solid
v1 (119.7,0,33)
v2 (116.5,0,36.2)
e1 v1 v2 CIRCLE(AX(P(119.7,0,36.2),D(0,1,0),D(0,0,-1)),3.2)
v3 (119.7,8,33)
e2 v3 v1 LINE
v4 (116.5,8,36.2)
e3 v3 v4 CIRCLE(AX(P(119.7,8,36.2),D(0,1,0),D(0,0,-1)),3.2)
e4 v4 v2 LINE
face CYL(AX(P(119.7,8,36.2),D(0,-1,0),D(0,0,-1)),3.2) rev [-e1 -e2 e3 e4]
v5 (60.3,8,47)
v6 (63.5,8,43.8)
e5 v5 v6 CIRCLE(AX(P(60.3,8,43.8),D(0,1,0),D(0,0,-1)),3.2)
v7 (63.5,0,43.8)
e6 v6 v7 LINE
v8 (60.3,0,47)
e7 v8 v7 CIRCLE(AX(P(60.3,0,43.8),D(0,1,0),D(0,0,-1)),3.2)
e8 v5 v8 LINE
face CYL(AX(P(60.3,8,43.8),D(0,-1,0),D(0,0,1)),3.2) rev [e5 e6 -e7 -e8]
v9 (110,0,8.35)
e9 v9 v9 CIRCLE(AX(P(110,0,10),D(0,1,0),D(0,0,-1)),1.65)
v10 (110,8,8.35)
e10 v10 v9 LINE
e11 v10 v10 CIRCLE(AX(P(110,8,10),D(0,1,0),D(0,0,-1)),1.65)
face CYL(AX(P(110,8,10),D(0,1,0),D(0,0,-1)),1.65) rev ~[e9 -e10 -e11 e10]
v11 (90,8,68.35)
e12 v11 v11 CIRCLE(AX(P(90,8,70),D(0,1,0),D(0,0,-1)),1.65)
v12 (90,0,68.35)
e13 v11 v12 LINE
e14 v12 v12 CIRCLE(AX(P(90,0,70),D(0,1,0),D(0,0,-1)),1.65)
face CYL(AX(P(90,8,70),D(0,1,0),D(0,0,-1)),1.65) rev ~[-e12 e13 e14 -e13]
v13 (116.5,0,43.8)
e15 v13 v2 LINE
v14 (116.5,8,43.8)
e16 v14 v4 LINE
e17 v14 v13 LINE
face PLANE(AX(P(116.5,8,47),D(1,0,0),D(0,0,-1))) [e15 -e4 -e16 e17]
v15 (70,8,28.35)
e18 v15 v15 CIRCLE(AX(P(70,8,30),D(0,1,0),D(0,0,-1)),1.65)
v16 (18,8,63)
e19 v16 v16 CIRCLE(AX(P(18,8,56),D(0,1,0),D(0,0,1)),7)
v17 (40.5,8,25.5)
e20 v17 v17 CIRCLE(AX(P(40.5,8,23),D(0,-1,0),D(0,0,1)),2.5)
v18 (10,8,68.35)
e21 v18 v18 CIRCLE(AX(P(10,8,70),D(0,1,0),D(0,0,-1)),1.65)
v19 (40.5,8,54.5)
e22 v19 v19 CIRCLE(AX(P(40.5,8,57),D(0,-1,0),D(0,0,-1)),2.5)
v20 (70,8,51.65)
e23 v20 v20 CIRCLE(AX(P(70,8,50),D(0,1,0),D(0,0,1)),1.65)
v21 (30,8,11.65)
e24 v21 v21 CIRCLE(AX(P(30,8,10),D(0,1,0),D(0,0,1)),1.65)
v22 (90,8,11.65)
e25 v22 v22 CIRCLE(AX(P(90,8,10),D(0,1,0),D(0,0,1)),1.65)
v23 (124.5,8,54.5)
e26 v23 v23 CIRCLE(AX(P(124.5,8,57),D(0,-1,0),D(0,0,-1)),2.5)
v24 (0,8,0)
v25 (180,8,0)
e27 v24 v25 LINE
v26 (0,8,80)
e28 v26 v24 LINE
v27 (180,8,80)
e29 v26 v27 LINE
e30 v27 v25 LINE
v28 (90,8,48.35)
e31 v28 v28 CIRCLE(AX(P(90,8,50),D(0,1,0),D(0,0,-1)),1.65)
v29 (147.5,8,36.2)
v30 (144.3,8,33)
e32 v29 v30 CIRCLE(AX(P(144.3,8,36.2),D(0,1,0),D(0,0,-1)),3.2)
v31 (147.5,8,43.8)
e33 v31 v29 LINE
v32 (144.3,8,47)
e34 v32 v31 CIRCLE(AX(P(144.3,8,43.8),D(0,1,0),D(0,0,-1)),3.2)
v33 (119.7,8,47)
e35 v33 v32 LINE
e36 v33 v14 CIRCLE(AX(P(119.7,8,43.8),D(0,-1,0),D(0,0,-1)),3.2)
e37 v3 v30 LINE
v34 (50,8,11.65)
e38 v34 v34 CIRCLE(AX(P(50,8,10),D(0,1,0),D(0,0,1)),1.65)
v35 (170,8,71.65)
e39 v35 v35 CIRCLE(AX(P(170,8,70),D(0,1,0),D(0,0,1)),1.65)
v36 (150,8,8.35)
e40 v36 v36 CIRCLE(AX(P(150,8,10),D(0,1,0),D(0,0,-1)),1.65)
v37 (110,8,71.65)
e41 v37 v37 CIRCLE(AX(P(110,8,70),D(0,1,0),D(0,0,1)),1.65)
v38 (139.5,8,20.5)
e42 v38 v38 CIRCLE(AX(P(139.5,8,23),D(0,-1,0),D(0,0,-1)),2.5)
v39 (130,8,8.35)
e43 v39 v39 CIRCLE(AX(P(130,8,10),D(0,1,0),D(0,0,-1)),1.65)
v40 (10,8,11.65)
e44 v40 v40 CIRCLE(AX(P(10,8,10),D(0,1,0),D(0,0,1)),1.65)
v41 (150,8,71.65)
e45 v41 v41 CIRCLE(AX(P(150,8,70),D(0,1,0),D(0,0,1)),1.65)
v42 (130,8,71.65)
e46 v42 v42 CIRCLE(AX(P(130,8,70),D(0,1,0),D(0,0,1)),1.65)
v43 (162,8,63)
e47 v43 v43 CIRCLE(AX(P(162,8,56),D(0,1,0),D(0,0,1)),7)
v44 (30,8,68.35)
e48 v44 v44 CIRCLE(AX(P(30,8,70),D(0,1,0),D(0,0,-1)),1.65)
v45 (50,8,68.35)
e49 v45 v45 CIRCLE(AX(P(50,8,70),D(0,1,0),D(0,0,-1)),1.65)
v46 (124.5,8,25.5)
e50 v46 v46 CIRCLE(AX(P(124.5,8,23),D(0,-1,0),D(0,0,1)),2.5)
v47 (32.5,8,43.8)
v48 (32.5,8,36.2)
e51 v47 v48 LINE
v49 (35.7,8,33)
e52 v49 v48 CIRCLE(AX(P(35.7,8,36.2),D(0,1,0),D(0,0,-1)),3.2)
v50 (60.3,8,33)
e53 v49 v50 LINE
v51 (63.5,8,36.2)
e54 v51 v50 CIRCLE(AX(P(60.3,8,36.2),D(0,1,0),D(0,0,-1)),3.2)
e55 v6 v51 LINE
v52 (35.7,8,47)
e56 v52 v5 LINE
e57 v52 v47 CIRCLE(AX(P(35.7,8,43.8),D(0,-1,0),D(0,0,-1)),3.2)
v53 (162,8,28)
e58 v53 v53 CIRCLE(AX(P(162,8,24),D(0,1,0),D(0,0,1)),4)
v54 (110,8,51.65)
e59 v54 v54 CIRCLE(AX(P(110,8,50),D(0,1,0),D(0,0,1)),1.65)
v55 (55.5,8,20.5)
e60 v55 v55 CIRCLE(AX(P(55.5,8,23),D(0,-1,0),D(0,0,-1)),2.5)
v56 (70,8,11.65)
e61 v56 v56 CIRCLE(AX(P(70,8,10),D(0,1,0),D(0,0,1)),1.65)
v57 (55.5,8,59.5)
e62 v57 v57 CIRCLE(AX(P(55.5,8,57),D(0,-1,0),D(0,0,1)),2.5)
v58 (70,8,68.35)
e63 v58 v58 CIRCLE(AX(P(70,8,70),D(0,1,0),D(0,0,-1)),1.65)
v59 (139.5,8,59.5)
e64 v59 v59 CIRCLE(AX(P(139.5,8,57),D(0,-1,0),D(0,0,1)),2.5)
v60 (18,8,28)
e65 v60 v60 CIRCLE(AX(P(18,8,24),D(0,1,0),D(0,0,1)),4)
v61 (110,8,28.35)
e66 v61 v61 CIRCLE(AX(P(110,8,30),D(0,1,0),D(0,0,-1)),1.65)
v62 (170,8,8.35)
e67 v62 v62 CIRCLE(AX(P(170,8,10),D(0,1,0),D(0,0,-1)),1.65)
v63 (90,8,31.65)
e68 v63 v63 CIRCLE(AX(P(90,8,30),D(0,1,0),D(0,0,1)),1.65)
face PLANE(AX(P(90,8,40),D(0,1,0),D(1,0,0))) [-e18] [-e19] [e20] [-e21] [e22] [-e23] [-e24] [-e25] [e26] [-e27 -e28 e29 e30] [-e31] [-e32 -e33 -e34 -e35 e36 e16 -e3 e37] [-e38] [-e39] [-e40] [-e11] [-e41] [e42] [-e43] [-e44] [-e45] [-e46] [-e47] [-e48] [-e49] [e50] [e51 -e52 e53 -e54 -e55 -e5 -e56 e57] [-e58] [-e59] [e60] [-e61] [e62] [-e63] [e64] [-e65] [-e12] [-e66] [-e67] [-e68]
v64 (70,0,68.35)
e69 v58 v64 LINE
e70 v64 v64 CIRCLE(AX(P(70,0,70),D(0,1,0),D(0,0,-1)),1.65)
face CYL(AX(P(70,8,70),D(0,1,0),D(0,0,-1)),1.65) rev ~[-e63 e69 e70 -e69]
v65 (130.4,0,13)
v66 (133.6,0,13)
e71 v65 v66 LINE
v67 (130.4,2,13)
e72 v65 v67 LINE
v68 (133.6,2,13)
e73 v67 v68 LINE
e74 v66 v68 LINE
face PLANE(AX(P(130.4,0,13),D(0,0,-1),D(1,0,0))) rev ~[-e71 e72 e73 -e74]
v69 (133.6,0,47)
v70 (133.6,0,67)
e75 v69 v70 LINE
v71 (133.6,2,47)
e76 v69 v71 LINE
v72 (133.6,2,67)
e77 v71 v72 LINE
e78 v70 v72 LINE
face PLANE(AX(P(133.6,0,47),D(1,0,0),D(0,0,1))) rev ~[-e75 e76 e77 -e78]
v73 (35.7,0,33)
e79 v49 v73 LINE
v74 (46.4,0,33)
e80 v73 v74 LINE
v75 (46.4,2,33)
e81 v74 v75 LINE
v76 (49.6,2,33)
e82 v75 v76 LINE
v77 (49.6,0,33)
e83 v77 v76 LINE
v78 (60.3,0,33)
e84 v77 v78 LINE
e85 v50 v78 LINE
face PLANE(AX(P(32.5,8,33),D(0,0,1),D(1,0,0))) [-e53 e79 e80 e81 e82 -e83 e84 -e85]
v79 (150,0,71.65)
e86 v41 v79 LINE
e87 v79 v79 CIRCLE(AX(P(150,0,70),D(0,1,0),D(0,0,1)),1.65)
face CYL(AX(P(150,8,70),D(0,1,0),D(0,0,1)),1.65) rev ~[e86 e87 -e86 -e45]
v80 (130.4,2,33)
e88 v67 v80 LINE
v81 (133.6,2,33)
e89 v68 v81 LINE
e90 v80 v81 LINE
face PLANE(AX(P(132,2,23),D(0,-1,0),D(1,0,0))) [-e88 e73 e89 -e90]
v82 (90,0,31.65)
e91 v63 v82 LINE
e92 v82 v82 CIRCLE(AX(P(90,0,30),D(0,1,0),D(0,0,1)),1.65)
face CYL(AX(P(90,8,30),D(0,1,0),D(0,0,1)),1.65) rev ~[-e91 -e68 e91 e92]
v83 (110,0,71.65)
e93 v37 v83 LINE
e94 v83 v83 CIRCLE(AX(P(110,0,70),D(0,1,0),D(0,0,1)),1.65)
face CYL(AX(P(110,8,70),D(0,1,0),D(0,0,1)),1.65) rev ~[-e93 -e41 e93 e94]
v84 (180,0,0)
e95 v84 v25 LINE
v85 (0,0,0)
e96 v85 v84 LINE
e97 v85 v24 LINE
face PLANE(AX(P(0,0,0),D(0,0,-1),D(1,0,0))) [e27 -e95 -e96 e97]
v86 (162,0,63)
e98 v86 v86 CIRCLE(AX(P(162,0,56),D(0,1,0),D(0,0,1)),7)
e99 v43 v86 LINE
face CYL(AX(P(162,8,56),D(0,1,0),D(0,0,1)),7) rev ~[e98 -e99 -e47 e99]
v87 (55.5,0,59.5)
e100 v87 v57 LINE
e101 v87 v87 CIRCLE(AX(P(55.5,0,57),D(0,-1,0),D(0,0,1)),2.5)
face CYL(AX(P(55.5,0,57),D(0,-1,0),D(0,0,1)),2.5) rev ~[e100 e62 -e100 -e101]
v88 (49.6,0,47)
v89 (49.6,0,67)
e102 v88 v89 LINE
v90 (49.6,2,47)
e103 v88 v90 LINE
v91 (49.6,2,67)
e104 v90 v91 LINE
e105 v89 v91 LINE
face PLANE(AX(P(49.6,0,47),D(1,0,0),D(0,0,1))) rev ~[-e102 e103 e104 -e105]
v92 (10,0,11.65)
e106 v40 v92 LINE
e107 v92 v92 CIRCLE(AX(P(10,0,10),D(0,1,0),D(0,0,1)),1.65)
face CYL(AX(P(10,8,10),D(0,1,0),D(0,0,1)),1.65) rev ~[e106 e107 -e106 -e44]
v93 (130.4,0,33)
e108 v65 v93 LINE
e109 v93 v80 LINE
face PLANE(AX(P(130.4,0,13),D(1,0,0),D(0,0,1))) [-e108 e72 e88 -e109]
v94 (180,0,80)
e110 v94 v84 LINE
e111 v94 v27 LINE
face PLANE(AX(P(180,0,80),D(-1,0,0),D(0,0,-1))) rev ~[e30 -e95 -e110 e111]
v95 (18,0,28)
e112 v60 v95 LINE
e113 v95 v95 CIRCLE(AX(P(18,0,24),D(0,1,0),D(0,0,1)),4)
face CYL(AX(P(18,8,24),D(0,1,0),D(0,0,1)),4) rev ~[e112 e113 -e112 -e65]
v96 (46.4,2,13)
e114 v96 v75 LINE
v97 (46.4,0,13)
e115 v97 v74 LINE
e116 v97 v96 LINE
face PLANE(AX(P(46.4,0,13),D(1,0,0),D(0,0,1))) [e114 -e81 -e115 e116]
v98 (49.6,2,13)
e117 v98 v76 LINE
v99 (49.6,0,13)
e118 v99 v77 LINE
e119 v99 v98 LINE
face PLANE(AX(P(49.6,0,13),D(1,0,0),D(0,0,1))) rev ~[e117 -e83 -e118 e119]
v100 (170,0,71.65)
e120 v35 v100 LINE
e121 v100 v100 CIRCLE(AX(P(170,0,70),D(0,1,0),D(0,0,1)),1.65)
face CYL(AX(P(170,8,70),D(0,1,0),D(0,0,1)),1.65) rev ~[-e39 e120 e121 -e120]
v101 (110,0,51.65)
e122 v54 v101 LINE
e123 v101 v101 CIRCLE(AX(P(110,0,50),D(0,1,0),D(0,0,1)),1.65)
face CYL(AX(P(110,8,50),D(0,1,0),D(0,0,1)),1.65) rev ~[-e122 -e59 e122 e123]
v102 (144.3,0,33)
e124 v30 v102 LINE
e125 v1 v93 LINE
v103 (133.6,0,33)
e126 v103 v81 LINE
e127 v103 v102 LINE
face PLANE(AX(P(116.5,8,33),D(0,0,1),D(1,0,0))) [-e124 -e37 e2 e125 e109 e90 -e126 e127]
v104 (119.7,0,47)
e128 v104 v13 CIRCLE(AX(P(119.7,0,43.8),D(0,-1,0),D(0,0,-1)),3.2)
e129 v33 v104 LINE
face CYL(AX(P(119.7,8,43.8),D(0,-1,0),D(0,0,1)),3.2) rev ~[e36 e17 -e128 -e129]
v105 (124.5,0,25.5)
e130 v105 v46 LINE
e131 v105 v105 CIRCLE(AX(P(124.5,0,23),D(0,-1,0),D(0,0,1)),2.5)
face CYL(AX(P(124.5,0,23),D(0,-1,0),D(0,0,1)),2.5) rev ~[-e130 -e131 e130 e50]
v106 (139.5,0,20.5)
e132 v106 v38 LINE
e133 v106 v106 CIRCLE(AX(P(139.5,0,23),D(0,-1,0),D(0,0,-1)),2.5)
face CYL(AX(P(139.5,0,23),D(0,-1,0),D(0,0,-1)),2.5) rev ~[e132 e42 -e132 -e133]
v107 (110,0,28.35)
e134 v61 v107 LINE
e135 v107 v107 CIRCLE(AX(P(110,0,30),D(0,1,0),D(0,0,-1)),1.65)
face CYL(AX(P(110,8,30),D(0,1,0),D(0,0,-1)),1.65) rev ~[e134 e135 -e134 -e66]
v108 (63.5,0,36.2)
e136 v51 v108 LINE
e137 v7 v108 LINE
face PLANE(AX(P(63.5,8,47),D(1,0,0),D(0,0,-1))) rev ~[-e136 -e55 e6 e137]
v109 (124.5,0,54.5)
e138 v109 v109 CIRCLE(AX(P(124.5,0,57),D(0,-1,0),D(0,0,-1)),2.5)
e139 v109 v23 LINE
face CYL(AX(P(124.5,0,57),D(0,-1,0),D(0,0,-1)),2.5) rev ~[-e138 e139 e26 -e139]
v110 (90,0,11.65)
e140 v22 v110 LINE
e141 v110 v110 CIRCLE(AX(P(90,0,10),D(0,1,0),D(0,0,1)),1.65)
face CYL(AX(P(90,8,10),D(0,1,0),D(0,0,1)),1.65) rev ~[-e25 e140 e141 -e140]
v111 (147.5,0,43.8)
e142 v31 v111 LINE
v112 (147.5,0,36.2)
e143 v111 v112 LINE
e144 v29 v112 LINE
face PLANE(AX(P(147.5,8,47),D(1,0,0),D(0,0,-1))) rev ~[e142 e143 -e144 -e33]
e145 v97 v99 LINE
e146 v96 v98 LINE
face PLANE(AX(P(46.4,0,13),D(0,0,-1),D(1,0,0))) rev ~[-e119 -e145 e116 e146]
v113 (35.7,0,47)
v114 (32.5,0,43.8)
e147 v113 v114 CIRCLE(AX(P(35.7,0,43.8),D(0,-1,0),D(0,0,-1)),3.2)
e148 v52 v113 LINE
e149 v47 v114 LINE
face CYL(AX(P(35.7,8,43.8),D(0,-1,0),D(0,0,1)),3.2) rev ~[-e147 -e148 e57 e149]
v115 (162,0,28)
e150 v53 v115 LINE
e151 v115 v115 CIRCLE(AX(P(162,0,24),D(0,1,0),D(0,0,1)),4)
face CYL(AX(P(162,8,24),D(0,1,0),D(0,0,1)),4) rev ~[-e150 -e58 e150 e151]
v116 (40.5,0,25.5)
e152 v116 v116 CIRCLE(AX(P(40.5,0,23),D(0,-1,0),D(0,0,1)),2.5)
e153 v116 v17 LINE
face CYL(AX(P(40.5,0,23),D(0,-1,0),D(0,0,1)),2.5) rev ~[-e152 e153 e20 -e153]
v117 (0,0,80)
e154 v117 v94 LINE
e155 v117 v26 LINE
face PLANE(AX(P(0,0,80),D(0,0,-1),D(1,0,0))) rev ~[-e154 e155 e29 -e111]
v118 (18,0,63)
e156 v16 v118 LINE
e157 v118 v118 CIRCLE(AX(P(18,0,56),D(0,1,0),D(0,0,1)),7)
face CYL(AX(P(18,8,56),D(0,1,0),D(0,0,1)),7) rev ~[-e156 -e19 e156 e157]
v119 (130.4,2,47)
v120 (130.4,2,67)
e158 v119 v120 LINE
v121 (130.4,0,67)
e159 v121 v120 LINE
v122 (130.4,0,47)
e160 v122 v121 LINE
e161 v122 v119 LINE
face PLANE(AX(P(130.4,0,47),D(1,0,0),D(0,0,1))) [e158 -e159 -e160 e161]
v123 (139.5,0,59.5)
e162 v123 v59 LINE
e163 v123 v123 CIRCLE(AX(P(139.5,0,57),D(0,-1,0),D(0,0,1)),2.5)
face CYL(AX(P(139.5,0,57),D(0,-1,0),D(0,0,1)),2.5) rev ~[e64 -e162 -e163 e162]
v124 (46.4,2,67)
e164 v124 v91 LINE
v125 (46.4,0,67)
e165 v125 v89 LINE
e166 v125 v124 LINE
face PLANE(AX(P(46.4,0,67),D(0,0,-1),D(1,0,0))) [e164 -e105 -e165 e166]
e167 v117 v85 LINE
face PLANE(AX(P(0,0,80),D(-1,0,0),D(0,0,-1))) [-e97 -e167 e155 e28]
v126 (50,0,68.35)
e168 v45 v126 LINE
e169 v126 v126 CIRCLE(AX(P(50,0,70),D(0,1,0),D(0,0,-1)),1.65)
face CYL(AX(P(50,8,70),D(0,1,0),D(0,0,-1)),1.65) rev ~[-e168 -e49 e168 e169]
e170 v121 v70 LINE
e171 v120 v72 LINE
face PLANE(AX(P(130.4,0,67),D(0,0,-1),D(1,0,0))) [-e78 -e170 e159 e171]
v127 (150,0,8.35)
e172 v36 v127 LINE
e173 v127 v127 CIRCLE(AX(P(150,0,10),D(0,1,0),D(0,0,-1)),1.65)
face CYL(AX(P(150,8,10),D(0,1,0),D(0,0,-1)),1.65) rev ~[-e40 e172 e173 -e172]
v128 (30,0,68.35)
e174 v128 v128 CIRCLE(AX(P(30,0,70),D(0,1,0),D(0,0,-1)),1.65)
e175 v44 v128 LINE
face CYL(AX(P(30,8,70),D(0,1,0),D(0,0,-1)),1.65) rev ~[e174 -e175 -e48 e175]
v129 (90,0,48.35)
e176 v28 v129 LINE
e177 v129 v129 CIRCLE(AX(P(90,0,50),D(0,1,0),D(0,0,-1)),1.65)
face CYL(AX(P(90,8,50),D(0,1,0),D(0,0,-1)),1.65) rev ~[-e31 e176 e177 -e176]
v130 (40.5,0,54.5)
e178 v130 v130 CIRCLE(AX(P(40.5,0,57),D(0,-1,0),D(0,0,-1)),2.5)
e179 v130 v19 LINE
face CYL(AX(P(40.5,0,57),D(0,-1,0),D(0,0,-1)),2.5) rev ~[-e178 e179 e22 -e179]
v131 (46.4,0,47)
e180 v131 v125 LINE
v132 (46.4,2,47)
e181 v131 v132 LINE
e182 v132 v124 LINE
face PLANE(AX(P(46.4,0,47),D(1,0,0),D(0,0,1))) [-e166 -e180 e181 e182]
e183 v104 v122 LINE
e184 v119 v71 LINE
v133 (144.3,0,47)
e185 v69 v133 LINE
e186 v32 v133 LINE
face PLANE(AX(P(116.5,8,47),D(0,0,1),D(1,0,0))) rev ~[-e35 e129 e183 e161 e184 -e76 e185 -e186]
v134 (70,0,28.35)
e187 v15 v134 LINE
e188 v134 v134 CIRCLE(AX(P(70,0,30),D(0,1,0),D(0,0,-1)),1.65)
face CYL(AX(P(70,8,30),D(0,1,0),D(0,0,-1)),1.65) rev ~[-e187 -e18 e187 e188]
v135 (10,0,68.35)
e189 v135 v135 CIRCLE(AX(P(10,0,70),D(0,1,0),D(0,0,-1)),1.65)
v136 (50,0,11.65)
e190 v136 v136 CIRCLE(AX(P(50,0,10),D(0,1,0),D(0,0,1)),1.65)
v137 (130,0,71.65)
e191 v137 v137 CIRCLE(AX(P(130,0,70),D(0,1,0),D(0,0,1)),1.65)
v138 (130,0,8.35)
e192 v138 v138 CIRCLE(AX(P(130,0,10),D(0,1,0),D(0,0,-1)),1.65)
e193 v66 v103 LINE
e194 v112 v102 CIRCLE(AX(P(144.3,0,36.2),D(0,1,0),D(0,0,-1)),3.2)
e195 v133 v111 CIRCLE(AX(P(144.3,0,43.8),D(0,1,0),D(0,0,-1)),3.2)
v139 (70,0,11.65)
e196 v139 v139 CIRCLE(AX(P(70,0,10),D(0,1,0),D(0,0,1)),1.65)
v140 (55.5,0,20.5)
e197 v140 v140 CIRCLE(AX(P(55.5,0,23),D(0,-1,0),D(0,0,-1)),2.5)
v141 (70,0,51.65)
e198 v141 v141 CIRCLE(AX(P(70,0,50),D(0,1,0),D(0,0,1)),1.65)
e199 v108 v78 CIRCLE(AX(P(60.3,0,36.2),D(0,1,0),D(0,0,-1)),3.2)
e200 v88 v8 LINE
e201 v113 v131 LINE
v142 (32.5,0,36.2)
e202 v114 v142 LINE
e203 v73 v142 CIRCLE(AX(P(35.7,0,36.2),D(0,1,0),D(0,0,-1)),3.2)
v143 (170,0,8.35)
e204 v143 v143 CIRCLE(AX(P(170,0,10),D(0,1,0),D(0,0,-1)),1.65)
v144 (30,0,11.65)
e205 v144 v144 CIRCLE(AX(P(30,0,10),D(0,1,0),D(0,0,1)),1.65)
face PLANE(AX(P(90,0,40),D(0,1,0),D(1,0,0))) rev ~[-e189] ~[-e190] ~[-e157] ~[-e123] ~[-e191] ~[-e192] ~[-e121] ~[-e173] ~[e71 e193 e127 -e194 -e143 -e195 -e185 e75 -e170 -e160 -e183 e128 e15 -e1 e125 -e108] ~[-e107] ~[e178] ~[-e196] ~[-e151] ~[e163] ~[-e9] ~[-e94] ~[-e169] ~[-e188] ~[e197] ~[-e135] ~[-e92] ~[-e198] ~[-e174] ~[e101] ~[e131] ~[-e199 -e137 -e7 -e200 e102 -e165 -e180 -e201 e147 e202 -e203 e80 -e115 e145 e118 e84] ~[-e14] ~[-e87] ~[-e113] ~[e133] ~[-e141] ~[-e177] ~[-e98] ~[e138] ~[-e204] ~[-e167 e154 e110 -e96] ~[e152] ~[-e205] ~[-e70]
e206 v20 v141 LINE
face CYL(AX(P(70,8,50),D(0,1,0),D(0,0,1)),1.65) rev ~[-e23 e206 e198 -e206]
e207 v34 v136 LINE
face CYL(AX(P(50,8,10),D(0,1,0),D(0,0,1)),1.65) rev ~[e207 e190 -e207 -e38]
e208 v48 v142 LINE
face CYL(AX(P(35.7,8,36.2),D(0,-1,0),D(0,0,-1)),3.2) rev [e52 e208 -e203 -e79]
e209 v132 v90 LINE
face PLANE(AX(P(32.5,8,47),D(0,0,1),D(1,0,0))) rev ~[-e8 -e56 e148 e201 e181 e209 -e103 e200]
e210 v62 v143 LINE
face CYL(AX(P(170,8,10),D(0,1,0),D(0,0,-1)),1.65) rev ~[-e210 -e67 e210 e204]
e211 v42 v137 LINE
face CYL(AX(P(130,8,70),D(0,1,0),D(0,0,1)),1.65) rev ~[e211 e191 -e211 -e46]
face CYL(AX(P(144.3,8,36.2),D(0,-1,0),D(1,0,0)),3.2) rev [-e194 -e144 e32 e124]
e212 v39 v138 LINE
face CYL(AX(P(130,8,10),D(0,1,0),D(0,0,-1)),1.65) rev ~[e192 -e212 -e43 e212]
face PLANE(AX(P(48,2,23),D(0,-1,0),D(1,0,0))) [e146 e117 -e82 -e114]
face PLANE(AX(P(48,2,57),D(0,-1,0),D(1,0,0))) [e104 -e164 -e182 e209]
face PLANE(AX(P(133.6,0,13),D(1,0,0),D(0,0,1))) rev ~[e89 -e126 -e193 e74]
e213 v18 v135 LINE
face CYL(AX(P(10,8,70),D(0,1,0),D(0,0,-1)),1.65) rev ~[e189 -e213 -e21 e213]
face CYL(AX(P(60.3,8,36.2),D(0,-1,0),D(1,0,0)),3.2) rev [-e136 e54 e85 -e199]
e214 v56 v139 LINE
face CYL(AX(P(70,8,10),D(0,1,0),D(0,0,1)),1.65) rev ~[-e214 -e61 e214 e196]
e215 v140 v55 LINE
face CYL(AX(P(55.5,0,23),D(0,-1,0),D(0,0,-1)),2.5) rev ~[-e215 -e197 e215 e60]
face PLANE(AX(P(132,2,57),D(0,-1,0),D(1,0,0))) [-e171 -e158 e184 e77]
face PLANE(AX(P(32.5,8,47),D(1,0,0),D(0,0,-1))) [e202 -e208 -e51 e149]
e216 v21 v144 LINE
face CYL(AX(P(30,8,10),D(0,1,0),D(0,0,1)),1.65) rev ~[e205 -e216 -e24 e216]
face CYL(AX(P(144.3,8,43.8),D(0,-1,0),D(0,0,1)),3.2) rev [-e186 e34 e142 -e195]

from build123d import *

# Parameters (mm, degrees)
SKETCH1_W           = 180
SKETCH1_H           = 80
BOSS_EXTRUDE1_DEPTH = 8
SKETCH2_R           = 4
SKETCH2_R_2         = 7
SKETCH2_W           = 31
SKETCH2_H           = 14
CUT_EXTRUDE1_DEPTH  = 30
FILLET1_R           = 3.2
SKETCH5_R           = 1.65
CUT_EXTRUDE4_DEPTH  = 8
SKETCH3_W           = 3.2
SKETCH3_H           = 20
CUT_EXTRUDE5_DEPTH  = 2
SKETCH7_R           = 2.5
CUT_EXTRUDE6_DEPTH  = 198.139544486


with BuildPart() as part:
    # Sketch1 → Boss-Extrude1 (new body)
    with BuildSketch(Plane(origin=(0, 0, 0), x_dir=(1, 0, 0), z_dir=(0, 1, 0))):
        with Locations((90, -40)):
            Rectangle(SKETCH1_W, SKETCH1_H)
    extrude(amount=BOSS_EXTRUDE1_DEPTH)

    # Sketch2 → Cut-Extrude1 (cut)
    with BuildSketch(Plane(origin=(0, 8, 0), x_dir=(1, 0, 0), z_dir=(0, 1, 0))):
        with Locations(Location((18, -24, 0), (0, 0, 270))):
            Circle(SKETCH2_R)
        with Locations(Location((162, -24, 0), (0, 0, 270))):
            Circle(SKETCH2_R)
        with Locations(Location((18, -56, 0), (0, 0, 270))):
            Circle(SKETCH2_R_2)
        with Locations(Location((162, -56, 0), (0, 0, 270))):
            Circle(SKETCH2_R_2)
        with Locations((132, -40)):
            Rectangle(SKETCH2_W, SKETCH2_H)
        with Locations((48, -40)):
            Rectangle(SKETCH2_W, SKETCH2_H)
    extrude(amount=-CUT_EXTRUDE1_DEPTH, mode=Mode.SUBTRACT)

    # Fillet1
    fillet1_edges = [part.edges().sort_by_distance(p)[0] for p in [
        (32.5, 4, 47),
        (32.5, 4, 33),
        (63.5, 4, 33),
        (63.5, 4, 47),
        (116.5, 4, 33),
        (147.5, 4, 33),
        (147.5, 4, 47),
        (116.5, 4, 47),
    ]]
    fillet(fillet1_edges, radius=FILLET1_R)

    # Sketch5 → Cut-Extrude4 (cut)
    with BuildSketch(Plane(origin=(0, 8, 0), x_dir=(1, 0, 0), z_dir=(0, 1, 0))):
        with Locations(Location((90, -10, 0), (0, 0, 270))):
            Circle(SKETCH5_R)
        with Locations(Location((70, -10, 0), (0, 0, 270))):
            Circle(SKETCH5_R)
        with Locations(Location((50, -10, 0), (0, 0, 270))):
            Circle(SKETCH5_R)
        with Locations(Location((30, -10, 0), (0, 0, 270))):
            Circle(SKETCH5_R)
        with Locations(Location((10, -10, 0), (0, 0, 270))):
            Circle(SKETCH5_R)
        with Locations(Location((170, -10, 0), (0, 0, 90))):
            Circle(SKETCH5_R)
        with Locations(Location((150, -10, 0), (0, 0, 90))):
            Circle(SKETCH5_R)
        with Locations(Location((130, -10, 0), (0, 0, 90))):
            Circle(SKETCH5_R)
        with Locations(Location((110, -10, 0), (0, 0, 90))):
            Circle(SKETCH5_R)
        with Locations(Location((170, -70, 0), (0, 0, 270))):
            Circle(SKETCH5_R)
        with Locations(Location((150, -70, 0), (0, 0, 270))):
            Circle(SKETCH5_R)
        with Locations(Location((130, -70, 0), (0, 0, 270))):
            Circle(SKETCH5_R)
        with Locations(Location((110, -70, 0), (0, 0, 270))):
            Circle(SKETCH5_R)
        with Locations(Location((90, -70, 0), (0, 0, 90))):
            Circle(SKETCH5_R)
        with Locations(Location((70, -70, 0), (0, 0, 90))):
            Circle(SKETCH5_R)
        with Locations(Location((50, -70, 0), (0, 0, 90))):
            Circle(SKETCH5_R)
        with Locations(Location((30, -70, 0), (0, 0, 90))):
            Circle(SKETCH5_R)
        with Locations(Location((10, -70, 0), (0, 0, 90))):
            Circle(SKETCH5_R)
        with Locations(Location((90, -30, 0), (0, 0, 270))):
            Circle(SKETCH5_R)
        with Locations(Location((90, -50, 0), (0, 0, 90))):
            Circle(SKETCH5_R)
        with Locations(Location((70, -50, 0), (0, 0, 270))):
            Circle(SKETCH5_R)
        with Locations(Location((70, -30, 0), (0, 0, 90))):
            Circle(SKETCH5_R)
        with Locations(Location((110, -50, 0), (0, 0, 270))):
            Circle(SKETCH5_R)
        with Locations(Location((110, -30, 0), (0, 0, 90))):
            Circle(SKETCH5_R)
    extrude(amount=-CUT_EXTRUDE4_DEPTH, mode=Mode.SUBTRACT)

    # Sketch3 → Cut-Extrude5 (cut)
    with BuildSketch(Plane.XZ):
        with Locations((48, 23)):
            Rectangle(SKETCH3_W, SKETCH3_H)
        with Locations((48, 57)):
            Rectangle(SKETCH3_W, SKETCH3_H)
        with Locations((132, 23)):
            Rectangle(SKETCH3_W, SKETCH3_H)
        with Locations((132, 57)):
            Rectangle(SKETCH3_W, SKETCH3_H)
    extrude(amount=-CUT_EXTRUDE5_DEPTH, mode=Mode.SUBTRACT)

    # Sketch7 → Cut-Extrude6 (cut, through all)
    with BuildSketch(Plane.XZ):
        with Locations(Location((40.5, 57, 0), (0, 0, 270))):
            Circle(SKETCH7_R)
        with Locations(Location((55.5, 57, 0), (0, 0, 90))):
            Circle(SKETCH7_R)
        with Locations(Location((55.5, 23, 0), (0, 0, 270))):
            Circle(SKETCH7_R)
        with Locations(Location((40.5, 23, 0), (0, 0, 90))):
            Circle(SKETCH7_R)
        with Locations(Location((124.5, 23, 0), (0, 0, 90))):
            Circle(SKETCH7_R)
        with Locations(Location((139.5, 23, 0), (0, 0, 270))):
            Circle(SKETCH7_R)
        with Locations(Location((124.5, 57, 0), (0, 0, 270))):
            Circle(SKETCH7_R)
        with Locations(Location((139.5, 57, 0), (0, 0, 90))):
            Circle(SKETCH7_R)
    extrude(amount=-CUT_EXTRUDE6_DEPTH, mode=Mode.SUBTRACT)


solid = part.part
